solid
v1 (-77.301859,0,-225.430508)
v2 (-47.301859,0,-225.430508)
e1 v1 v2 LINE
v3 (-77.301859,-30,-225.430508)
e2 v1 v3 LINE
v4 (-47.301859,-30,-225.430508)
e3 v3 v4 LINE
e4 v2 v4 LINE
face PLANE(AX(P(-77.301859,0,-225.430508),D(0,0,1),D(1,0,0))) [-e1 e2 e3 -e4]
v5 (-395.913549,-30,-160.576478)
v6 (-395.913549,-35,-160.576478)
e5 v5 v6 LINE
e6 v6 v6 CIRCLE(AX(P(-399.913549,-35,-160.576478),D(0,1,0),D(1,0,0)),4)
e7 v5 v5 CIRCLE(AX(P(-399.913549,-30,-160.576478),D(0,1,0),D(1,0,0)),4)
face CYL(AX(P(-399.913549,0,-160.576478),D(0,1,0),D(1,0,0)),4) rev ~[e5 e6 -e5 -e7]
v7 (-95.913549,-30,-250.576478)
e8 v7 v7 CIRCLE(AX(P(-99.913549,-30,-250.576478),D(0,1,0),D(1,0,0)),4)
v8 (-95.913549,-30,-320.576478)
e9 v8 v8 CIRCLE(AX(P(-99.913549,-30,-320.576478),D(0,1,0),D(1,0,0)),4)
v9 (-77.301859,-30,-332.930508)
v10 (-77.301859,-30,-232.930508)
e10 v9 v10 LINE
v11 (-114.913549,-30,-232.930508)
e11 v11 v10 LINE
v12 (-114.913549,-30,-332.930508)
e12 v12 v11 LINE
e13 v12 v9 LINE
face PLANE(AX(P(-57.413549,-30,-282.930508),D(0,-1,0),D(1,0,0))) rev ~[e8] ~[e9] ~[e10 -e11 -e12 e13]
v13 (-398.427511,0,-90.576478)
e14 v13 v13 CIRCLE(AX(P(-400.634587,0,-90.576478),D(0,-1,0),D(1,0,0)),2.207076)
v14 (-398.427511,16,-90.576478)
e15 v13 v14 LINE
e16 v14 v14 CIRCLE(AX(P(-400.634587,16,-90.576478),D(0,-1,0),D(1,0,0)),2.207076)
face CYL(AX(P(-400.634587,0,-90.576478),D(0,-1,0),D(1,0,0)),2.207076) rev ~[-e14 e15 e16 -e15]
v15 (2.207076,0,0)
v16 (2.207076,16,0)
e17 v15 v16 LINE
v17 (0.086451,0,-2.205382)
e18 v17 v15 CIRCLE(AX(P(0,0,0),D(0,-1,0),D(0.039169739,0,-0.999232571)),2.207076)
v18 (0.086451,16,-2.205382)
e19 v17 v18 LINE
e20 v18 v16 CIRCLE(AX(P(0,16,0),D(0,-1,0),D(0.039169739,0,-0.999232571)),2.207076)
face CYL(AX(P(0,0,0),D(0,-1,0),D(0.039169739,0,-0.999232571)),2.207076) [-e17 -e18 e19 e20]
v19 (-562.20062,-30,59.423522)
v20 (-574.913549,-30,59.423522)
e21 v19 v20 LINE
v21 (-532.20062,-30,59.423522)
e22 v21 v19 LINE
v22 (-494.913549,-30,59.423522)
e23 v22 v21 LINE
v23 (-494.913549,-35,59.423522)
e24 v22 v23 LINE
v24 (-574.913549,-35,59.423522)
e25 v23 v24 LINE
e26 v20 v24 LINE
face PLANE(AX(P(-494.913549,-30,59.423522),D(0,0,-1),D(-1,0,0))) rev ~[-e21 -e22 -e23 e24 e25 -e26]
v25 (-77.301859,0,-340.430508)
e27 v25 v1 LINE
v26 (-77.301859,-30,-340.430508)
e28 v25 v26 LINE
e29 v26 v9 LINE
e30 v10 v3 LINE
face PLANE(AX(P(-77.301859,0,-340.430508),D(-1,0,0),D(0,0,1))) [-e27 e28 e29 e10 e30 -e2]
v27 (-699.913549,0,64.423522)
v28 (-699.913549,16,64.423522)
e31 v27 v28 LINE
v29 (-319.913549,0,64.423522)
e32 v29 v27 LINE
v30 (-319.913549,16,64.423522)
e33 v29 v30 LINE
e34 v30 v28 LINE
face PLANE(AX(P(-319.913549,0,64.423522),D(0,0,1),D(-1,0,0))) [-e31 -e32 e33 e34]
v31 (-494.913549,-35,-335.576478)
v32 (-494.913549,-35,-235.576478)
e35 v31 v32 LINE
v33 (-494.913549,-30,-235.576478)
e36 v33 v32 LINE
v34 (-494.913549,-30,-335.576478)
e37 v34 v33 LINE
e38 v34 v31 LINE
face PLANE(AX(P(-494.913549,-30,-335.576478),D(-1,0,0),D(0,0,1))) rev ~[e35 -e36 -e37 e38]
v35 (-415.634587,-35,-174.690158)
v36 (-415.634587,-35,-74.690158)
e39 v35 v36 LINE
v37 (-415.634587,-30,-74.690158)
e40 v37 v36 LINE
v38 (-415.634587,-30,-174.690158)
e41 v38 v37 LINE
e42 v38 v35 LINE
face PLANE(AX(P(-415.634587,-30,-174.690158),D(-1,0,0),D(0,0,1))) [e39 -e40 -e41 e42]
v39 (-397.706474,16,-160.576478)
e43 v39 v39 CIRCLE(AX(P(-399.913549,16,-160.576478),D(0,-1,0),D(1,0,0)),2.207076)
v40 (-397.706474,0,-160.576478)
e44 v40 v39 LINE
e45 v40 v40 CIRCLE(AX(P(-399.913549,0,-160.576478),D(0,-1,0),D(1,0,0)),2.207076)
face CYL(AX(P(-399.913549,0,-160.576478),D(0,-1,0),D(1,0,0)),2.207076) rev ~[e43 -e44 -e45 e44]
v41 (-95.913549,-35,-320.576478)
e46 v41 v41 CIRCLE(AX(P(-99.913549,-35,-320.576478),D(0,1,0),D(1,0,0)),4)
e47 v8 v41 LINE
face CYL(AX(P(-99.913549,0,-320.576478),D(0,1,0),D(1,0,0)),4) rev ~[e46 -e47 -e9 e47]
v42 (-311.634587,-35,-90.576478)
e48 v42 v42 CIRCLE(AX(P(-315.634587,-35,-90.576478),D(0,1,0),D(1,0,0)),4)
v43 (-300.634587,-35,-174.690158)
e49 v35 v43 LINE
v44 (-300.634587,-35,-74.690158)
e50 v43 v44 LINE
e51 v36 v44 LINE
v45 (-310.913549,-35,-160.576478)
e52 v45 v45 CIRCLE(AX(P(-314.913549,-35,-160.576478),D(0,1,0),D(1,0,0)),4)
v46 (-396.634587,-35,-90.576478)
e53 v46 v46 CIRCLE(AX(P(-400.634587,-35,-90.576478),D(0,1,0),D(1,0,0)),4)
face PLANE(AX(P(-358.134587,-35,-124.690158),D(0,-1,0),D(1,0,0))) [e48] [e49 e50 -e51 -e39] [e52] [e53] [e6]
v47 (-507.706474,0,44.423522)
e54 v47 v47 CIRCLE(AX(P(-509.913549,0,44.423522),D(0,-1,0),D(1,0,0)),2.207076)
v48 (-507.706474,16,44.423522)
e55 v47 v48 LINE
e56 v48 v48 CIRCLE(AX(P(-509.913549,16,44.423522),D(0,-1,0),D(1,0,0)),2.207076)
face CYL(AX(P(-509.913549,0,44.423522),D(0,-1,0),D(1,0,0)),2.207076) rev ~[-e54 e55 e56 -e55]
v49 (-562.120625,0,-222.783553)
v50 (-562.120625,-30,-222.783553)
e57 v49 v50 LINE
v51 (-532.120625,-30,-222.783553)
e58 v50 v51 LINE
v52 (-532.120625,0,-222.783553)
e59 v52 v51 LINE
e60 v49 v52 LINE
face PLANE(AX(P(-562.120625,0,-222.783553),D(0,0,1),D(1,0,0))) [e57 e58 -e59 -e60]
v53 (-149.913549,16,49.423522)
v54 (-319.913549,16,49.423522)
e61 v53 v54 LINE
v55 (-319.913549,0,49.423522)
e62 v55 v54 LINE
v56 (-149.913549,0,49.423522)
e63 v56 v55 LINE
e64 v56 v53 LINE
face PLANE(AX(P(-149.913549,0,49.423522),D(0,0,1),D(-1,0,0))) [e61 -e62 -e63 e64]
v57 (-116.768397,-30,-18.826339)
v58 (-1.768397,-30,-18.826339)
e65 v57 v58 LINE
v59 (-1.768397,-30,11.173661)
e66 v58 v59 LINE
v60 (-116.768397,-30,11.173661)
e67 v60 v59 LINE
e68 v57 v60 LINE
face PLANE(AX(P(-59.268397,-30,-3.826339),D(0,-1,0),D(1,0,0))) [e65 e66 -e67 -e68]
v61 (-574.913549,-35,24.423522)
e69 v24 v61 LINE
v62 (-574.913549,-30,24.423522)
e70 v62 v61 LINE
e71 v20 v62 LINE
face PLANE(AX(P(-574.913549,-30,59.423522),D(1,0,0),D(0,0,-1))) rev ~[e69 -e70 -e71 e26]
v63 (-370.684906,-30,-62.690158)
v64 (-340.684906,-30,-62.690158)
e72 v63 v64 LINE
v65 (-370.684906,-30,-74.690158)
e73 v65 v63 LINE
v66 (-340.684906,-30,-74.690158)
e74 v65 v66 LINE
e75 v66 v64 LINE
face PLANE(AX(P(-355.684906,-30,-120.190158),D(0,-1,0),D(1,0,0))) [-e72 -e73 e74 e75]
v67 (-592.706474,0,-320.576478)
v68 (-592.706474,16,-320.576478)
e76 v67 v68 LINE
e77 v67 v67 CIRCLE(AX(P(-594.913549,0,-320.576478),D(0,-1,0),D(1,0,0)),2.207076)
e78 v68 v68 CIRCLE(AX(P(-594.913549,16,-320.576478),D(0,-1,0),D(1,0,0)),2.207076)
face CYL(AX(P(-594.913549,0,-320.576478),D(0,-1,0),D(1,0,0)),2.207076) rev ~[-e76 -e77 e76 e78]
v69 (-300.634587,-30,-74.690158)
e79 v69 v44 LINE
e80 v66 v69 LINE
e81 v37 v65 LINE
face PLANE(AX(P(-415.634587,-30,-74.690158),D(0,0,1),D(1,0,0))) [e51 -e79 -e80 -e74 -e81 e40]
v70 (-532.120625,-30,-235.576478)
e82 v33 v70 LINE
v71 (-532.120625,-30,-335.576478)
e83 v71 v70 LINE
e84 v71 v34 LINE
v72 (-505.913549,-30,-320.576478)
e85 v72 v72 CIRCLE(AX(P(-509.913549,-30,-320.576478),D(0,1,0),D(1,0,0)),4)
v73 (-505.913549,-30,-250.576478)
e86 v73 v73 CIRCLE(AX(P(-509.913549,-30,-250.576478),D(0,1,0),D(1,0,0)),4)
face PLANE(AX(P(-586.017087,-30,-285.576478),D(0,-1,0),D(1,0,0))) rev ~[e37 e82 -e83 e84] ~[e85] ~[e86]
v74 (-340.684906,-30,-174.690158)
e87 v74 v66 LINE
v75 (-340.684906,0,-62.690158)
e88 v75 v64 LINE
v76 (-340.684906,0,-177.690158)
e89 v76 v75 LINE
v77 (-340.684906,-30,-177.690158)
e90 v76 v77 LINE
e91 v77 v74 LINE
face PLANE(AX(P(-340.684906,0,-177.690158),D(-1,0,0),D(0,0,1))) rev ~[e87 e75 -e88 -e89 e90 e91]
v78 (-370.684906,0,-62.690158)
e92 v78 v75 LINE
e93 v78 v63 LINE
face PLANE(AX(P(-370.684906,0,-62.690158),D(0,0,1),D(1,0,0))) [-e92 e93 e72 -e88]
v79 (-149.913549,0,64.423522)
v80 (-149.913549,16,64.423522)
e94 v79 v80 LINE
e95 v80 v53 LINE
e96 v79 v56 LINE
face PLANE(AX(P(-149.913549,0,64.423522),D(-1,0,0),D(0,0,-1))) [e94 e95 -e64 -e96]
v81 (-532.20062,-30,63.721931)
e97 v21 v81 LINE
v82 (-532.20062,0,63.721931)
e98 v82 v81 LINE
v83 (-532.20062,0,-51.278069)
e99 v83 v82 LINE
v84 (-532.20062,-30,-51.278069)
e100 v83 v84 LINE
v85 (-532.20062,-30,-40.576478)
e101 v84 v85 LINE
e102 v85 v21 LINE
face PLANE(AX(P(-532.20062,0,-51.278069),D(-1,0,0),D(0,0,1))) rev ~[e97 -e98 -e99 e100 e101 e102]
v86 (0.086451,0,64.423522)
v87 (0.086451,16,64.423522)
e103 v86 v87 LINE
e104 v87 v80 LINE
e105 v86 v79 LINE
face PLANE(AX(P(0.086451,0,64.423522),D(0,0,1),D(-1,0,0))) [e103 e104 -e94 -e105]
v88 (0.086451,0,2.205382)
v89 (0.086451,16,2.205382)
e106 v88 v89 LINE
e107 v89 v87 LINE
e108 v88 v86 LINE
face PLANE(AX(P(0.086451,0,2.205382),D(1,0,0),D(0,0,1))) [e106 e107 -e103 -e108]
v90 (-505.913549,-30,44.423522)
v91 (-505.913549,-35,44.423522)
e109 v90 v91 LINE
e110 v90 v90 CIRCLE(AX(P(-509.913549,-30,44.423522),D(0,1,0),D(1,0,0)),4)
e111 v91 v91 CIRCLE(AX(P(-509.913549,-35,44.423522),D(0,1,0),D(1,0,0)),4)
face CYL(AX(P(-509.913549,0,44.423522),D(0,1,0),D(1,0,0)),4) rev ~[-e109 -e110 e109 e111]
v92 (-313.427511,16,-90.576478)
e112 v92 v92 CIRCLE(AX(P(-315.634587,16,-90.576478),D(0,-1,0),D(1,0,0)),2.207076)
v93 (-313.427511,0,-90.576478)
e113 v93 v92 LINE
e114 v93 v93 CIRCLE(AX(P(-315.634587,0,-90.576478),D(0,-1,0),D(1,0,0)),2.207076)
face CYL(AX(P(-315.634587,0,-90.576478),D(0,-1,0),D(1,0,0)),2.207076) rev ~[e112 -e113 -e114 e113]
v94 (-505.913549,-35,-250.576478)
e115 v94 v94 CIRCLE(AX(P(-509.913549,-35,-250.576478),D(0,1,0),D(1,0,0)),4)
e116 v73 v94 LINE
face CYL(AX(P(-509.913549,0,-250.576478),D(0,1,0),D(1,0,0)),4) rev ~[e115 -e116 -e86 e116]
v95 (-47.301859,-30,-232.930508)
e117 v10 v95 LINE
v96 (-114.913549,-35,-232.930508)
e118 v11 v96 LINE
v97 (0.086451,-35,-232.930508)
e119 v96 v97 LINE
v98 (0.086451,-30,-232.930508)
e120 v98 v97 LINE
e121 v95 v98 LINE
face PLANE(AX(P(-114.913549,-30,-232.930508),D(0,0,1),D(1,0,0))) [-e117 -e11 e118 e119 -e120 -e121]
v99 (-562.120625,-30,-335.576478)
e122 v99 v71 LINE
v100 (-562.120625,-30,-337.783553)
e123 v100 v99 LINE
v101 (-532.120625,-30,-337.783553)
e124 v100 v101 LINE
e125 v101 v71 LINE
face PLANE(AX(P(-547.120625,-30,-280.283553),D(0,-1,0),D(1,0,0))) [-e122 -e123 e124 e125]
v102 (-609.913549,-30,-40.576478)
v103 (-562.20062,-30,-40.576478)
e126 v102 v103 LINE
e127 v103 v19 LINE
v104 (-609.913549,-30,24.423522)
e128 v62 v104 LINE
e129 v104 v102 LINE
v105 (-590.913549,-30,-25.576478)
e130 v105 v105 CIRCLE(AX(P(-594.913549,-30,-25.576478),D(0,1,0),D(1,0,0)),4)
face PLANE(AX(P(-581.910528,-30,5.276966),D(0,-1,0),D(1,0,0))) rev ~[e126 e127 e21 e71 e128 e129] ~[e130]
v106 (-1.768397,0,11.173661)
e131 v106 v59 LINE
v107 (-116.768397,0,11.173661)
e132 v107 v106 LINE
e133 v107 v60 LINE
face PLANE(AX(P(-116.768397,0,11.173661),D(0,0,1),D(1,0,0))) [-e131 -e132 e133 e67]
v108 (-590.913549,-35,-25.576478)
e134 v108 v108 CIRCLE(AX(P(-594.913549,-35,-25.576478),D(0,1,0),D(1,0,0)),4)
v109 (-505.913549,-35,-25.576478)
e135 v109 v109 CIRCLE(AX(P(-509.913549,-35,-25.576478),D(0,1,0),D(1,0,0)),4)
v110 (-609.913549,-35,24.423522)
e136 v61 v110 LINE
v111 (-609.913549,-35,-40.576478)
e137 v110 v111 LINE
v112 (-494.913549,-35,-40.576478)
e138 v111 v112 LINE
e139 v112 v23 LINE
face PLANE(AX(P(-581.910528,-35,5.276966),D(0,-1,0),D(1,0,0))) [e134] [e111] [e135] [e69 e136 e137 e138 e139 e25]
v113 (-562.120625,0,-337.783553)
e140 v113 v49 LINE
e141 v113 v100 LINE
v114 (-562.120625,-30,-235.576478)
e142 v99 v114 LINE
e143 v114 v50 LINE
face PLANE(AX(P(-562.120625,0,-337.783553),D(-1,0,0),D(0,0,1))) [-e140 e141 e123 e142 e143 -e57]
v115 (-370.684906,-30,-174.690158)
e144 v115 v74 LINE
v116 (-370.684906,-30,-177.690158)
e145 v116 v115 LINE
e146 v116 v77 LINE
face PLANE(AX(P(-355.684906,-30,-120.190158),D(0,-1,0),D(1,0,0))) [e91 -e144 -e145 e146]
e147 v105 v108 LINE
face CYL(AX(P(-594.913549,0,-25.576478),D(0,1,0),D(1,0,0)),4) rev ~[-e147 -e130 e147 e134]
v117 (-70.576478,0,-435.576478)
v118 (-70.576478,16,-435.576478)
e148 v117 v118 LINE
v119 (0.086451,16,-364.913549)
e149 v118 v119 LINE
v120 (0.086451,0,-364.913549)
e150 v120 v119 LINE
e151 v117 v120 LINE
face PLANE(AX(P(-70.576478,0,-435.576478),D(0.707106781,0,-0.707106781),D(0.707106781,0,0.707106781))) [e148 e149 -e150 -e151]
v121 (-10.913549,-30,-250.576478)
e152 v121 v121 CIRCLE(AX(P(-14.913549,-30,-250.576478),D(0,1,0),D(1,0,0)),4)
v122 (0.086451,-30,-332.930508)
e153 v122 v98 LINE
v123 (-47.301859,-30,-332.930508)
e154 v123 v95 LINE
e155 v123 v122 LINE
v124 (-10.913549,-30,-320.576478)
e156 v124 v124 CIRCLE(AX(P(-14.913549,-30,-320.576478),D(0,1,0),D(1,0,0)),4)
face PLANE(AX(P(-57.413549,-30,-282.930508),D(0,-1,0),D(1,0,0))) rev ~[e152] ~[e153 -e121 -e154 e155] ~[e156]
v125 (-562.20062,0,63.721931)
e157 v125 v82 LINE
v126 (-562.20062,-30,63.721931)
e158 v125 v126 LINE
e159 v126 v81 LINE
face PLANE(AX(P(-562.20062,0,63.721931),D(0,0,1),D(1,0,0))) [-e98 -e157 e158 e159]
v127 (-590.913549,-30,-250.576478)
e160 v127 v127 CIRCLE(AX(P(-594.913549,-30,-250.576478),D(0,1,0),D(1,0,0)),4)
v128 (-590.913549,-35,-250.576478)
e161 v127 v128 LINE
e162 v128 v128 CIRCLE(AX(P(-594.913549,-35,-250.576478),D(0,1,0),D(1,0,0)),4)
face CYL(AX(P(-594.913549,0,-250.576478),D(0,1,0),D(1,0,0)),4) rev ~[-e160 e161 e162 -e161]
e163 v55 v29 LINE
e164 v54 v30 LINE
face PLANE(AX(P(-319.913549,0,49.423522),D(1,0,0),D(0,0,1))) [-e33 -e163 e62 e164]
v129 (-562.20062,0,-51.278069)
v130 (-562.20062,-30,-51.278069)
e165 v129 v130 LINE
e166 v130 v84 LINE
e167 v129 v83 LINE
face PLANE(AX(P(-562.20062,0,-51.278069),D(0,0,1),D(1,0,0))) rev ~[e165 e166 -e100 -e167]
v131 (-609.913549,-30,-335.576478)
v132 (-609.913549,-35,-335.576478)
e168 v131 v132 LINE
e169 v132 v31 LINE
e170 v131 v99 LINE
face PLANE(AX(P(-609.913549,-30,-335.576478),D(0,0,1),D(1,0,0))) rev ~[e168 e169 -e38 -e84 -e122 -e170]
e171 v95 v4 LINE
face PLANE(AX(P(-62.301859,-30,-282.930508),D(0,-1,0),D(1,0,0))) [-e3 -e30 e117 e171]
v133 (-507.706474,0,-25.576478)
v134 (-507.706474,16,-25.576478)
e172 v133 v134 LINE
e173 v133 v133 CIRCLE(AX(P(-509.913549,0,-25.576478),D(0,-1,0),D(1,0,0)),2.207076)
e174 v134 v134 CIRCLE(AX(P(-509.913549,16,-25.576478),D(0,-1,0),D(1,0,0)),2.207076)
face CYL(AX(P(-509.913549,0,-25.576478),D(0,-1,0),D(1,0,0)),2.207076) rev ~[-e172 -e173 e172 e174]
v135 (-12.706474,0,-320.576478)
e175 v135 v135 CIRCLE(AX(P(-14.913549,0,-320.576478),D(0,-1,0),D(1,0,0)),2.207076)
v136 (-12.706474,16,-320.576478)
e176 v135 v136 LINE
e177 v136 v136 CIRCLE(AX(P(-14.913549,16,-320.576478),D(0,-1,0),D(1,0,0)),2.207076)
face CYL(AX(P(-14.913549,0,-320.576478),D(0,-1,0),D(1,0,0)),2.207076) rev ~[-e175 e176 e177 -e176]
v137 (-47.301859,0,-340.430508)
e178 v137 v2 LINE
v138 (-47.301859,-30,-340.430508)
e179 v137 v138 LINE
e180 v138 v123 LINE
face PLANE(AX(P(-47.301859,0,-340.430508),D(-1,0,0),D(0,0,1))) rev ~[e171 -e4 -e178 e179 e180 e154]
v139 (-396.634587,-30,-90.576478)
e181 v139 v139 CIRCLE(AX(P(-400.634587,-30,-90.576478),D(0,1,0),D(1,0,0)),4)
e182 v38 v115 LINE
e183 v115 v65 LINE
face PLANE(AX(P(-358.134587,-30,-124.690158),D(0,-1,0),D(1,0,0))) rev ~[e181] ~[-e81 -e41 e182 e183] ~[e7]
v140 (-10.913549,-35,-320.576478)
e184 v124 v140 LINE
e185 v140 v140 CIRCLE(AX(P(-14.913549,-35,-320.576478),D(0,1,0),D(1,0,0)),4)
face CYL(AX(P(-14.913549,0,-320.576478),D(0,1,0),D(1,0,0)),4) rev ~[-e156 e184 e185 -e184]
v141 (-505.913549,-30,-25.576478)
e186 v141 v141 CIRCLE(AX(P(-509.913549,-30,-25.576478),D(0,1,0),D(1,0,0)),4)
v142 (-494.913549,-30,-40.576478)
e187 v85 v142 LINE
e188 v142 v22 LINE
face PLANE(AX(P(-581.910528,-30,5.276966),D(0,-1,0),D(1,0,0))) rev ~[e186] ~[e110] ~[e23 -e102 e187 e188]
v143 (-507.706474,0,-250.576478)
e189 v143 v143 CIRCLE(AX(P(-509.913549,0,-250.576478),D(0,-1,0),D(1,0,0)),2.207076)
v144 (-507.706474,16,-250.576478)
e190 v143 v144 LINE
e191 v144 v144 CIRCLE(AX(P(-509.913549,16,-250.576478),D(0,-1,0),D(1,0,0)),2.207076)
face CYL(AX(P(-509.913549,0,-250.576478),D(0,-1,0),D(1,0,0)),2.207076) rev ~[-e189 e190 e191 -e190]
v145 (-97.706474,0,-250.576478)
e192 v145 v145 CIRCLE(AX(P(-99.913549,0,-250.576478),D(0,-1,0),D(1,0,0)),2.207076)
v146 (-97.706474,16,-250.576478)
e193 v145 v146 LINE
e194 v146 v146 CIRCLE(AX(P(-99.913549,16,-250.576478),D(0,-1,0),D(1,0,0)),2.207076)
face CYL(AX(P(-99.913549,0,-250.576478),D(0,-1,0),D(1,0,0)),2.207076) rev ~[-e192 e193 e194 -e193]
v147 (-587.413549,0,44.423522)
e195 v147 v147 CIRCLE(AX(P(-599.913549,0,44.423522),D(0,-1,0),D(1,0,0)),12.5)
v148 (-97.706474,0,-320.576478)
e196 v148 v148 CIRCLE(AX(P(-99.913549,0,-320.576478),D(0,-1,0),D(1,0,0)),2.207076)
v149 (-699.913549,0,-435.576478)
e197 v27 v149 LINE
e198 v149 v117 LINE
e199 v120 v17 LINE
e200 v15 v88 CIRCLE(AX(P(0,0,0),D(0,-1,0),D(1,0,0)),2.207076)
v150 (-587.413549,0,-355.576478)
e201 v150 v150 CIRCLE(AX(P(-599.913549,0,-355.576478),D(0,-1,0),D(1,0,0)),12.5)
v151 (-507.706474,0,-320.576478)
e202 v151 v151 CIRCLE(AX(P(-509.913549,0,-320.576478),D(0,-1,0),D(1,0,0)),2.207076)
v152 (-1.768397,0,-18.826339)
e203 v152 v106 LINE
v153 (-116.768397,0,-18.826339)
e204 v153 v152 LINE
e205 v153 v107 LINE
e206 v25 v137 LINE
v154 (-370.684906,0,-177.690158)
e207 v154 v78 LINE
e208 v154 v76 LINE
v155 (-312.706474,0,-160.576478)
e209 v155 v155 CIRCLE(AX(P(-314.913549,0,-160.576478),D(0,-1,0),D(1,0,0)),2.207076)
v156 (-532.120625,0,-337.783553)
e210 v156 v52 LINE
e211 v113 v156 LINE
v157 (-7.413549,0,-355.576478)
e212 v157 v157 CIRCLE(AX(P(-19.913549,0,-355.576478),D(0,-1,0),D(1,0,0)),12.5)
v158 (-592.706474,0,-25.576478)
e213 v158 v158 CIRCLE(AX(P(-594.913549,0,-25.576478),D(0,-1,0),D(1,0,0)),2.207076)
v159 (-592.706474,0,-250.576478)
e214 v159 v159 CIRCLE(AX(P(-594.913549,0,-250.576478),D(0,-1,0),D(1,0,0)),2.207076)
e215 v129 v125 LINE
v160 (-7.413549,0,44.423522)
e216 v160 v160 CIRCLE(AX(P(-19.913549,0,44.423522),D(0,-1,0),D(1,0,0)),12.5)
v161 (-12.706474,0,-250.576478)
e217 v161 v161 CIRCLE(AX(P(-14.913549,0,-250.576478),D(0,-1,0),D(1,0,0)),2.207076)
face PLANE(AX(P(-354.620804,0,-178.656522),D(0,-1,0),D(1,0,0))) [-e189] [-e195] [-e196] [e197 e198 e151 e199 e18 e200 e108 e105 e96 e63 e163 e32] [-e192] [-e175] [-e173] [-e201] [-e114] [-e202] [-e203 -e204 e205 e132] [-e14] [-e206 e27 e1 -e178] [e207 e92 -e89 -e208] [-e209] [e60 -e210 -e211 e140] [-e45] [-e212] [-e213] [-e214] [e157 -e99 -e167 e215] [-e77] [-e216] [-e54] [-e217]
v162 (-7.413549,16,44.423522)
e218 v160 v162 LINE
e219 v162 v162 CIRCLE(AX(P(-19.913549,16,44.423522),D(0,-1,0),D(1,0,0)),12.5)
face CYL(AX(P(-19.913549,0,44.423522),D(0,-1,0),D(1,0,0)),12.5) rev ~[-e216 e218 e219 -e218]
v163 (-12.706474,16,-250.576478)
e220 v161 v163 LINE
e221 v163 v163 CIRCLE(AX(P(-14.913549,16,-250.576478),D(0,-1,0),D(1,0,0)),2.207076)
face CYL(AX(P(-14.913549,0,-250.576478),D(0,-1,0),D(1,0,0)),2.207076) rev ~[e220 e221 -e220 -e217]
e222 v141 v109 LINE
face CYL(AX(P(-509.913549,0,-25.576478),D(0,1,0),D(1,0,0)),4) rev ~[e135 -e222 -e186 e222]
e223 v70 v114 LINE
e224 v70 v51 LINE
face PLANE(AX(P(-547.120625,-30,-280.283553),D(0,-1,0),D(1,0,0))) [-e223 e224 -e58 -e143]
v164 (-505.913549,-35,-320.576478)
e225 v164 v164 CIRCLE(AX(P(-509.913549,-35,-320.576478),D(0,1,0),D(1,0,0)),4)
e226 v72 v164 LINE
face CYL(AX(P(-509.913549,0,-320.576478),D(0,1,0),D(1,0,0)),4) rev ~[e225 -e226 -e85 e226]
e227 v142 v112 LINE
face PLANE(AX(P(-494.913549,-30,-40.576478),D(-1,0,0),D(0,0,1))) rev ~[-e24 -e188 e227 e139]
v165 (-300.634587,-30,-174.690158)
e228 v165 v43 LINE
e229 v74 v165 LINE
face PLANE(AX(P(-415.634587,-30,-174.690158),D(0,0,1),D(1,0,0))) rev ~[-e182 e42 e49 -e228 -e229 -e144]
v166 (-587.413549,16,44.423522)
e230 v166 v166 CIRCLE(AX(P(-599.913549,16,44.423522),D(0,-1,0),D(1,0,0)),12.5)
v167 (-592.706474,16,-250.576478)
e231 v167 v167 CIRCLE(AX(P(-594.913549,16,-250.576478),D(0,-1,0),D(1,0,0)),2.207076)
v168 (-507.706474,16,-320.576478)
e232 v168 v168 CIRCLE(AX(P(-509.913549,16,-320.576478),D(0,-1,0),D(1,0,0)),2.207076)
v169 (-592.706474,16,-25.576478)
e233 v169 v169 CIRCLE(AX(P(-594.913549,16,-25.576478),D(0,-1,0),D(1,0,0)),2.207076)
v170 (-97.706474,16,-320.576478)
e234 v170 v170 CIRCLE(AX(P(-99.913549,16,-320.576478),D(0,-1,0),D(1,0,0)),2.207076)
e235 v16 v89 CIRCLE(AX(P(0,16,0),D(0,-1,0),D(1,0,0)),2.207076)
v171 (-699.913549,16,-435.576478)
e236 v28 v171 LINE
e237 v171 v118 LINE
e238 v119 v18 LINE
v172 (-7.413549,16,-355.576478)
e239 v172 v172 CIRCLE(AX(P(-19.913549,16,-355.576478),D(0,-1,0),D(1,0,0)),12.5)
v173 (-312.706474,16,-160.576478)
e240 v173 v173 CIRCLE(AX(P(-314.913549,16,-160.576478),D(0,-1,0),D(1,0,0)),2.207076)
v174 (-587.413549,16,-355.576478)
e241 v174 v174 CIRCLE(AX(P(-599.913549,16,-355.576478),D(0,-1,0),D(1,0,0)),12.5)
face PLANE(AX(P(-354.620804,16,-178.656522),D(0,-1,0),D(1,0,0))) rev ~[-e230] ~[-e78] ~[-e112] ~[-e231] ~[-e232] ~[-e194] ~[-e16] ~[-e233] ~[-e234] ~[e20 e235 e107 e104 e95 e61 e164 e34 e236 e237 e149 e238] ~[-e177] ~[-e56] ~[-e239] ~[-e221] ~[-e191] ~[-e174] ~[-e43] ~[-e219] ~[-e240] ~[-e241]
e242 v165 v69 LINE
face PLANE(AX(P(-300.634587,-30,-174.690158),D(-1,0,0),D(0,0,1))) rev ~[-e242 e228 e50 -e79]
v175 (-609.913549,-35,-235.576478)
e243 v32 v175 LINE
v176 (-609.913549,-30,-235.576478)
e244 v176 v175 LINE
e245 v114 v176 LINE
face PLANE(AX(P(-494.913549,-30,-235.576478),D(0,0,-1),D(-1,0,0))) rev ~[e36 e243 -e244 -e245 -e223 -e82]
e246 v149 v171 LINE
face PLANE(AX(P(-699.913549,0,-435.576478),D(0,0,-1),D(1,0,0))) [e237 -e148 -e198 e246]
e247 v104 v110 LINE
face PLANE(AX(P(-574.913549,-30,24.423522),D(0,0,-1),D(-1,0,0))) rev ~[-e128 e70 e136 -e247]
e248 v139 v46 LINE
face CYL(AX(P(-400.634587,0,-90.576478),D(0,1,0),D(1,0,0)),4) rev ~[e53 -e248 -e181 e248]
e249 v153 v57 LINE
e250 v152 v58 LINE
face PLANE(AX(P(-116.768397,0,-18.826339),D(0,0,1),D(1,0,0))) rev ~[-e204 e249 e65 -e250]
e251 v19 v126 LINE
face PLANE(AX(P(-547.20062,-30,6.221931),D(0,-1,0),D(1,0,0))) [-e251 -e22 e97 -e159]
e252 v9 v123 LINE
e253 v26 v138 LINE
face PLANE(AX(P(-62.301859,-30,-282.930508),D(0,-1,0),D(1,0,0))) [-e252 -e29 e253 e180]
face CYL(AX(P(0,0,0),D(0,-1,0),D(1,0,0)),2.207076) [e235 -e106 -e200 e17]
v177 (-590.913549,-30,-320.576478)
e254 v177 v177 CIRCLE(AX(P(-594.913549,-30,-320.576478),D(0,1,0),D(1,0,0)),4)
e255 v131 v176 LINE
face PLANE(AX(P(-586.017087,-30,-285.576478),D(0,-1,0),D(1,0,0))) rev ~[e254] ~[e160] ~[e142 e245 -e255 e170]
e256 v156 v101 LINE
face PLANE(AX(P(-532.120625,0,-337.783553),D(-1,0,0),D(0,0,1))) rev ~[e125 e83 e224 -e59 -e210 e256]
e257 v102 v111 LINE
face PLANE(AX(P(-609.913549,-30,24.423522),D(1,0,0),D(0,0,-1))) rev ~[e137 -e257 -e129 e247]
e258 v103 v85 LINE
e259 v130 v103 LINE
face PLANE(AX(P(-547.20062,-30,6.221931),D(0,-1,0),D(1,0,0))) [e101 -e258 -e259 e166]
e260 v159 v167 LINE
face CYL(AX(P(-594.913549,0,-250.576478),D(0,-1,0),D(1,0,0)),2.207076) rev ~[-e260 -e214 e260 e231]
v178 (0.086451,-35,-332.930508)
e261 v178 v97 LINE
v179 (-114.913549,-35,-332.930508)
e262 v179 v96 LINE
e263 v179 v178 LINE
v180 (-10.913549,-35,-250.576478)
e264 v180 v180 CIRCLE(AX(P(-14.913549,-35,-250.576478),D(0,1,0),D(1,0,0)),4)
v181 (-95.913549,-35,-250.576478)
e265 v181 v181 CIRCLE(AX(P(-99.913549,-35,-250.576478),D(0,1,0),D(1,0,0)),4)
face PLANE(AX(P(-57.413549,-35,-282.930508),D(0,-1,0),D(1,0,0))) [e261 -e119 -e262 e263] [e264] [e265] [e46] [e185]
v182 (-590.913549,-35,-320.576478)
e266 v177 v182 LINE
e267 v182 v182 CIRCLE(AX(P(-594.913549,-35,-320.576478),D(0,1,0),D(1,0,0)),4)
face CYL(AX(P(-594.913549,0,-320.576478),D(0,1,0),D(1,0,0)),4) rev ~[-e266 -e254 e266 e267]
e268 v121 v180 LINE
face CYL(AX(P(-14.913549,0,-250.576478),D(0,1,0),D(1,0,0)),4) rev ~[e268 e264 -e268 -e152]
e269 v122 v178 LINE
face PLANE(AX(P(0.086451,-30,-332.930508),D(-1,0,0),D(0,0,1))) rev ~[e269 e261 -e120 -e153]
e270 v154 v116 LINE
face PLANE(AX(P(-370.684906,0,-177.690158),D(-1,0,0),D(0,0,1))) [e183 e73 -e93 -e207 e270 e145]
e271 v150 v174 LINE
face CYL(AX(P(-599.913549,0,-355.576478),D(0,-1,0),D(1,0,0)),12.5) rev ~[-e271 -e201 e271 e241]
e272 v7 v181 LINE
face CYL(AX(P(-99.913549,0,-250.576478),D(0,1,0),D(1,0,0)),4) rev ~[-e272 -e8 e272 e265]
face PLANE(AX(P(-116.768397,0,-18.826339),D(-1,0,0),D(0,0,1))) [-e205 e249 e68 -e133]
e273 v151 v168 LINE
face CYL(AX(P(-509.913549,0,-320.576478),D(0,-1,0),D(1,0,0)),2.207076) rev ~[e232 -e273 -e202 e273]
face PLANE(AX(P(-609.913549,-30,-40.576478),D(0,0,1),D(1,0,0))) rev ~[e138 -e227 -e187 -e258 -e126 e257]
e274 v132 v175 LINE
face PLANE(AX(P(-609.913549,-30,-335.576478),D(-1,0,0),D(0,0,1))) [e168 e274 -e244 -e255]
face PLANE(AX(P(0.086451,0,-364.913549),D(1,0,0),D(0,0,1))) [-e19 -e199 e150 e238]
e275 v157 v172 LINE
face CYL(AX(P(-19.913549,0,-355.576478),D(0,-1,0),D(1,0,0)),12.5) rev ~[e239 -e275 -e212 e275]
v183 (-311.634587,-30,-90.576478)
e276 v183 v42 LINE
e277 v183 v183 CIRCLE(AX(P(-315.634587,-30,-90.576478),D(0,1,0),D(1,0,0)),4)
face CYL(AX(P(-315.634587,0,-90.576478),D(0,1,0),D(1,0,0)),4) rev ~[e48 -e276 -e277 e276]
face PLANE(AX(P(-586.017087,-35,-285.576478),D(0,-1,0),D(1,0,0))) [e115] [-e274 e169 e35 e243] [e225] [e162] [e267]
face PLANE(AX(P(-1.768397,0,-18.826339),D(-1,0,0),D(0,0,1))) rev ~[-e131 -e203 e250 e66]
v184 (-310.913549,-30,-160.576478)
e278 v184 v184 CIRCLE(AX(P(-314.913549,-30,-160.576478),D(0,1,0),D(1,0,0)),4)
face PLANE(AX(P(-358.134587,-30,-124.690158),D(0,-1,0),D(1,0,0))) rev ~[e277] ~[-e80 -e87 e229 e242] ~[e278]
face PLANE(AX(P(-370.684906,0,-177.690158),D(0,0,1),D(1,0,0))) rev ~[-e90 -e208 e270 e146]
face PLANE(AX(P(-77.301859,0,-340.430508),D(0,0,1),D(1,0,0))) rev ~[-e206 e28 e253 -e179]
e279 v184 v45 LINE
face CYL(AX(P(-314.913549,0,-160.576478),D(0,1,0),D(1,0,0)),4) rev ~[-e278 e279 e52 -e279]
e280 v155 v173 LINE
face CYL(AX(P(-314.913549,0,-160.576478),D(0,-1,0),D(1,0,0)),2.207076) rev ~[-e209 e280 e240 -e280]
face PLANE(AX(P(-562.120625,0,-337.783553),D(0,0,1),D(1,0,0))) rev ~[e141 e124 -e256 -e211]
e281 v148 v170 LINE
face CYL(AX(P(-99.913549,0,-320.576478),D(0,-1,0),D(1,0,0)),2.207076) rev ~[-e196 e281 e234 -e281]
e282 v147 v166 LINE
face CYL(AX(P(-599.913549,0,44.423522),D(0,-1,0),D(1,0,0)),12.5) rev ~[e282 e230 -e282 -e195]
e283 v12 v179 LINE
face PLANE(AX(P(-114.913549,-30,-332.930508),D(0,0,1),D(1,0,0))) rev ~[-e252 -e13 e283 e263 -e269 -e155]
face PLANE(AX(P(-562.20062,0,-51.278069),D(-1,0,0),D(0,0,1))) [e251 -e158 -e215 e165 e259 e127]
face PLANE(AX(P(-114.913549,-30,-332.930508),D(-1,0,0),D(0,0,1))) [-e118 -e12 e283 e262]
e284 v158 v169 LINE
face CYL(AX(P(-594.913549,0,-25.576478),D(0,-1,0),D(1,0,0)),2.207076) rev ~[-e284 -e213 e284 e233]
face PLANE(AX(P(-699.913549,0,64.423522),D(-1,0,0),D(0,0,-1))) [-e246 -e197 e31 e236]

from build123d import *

# Parameters (mm, degrees)
F0_R      = 12.5
F0_R_2    = 2.2070756532
F1_DEPTH  = 16
F2_W      = 30
F2_H      = 115
F2_W_2    = 115
F2_H_2    = 30
F3_DEPTH  = 30
F5_W      = 47.7929243468
F5_H      = 100
F5_W_2    = 30
F5_W_3    = 37.2070756532
F6_DEPTH  = 5
F7_W      = 115
F7_H      = 100
F8_DEPTH  = 5
F10_W     = 115
F10_H     = 100
F11_DEPTH = 5
F9_W      = 30
F9_H      = 100
F9_W_2    = 37.2870707512
F13_DEPTH = 5
F14_D     = 8
F14_DEPTH = 35.001


with BuildPart() as f1:
    # F0 (on Front) → F1 (new body)
    with BuildSketch(Plane.XZ):
        with BuildLine():
            Line((-699.9135494232, 64.4235223532), (-699.9135494232, -435.5764776468))
            Line((-699.9135494232, -435.5764776468), (-70.5764776468, -435.5764776468))
            Line((-70.5764776468, -435.5764776468), (0.0864505768, -364.9135494232))
            Line((0.0864505768, -364.9135494232), (0.0864505768, -2.20538188))
            ThreePointArc((0.0864505768, -2.20538188), (-2.2070756532, 0), (0.0864505768, 2.20538188))
            Line((0.0864505768, 2.20538188), (0.0864505768, 64.4235223532))
            Line((0.0864505768, 64.4235223532), (-149.9135494232, 64.4235223532))
            Line((-149.9135494232, 64.4235223532), (-149.9135494232, 49.4235223532))
            Line((-149.9135494232, 49.4235223532), (-319.9135494232, 49.4235223532))
            Line((-319.9135494232, 49.4235223532), (-319.9135494232, 64.4235223532))
            Line((-319.9135494232, 64.4235223532), (-699.9135494232, 64.4235223532))
        make_face()
        with Locations((-599.9135494232, -355.5764776468)):
            Circle(F0_R, mode=Mode.SUBTRACT)
        with Locations((-594.9135494232, -320.5764776468)):
            Circle(F0_R_2, mode=Mode.SUBTRACT)
        with Locations((-509.9135494232, -320.5764776468)):
            Circle(F0_R_2, mode=Mode.SUBTRACT)
        with Locations((-594.9135494232, -250.5764776468)):
            Circle(F0_R_2, mode=Mode.SUBTRACT)
        with Locations((-509.9135494232, -250.5764776468)):
            Circle(F0_R_2, mode=Mode.SUBTRACT)
        with Locations((-99.9135494232, -320.5764776468)):
            Circle(F0_R_2, mode=Mode.SUBTRACT)
        with Locations((-19.9135494232, -355.5764776468)):
            Circle(F0_R, mode=Mode.SUBTRACT)
        with Locations((-14.9135494232, -320.5764776468)):
            Circle(F0_R_2, mode=Mode.SUBTRACT)
        with Locations((-99.9135494232, -250.5764776468)):
            Circle(F0_R_2, mode=Mode.SUBTRACT)
        with Locations((-14.9135494232, -250.5764776468)):
            Circle(F0_R_2, mode=Mode.SUBTRACT)
        with Locations((-399.9135494232, -160.5764776468)):
            Circle(F0_R_2, mode=Mode.SUBTRACT)
        with Locations((-400.6345868111, -90.5764776468)):
            Circle(F0_R_2, mode=Mode.SUBTRACT)
        with Locations((-594.9135494232, -25.5764776468)):
            Circle(F0_R_2, mode=Mode.SUBTRACT)
        with Locations((-599.9135494232, 44.4235223532)):
            Circle(F0_R, mode=Mode.SUBTRACT)
        with Locations((-509.9135494232, -25.5764776468)):
            Circle(F0_R_2, mode=Mode.SUBTRACT)
        with Locations((-509.9135494232, 44.4235223532)):
            Circle(F0_R_2, mode=Mode.SUBTRACT)
        with Locations((-314.9135494232, -160.5764776468)):
            Circle(F0_R_2, mode=Mode.SUBTRACT)
        with Locations((-315.6345868111, -90.5764776468)):
            Circle(F0_R_2, mode=Mode.SUBTRACT)
        with Locations((-19.9135494232, 44.4235223532)):
            Circle(F0_R, mode=Mode.SUBTRACT)
        with BuildLine():
            ThreePointArc((0.0864505768, 2.20538188), (-2.2070756532, 0), (0.0864505768, -2.20538188))
            Line((0.0864505768, -2.20538188), (0.0864505768, 2.20538188))
        make_face()
        with BuildLine():
            Line((0.0864505768, 2.20538188), (0.0864505768, -2.20538188))
            ThreePointArc((0.0864505768, -2.20538188), (1.5909094729, -1.5297679523), (2.2070756532, 0))
            ThreePointArc((2.2070756532, 0), (1.5909094729, 1.5297679523), (0.0864505768, 2.20538188))
        make_face()
    extrude(amount=-F1_DEPTH)

    # F2 (on Front) → F3 (join)
    with BuildSketch(Plane.XZ):
        with Locations((-547.1206250764, -280.2835533)):
            Rectangle(F2_W, F2_H)
        with Locations((-355.6849062443, -120.1901584864)):
            Rectangle(F2_W, F2_H)
        with Locations((-547.2006201744, 6.2219314277)):
            Rectangle(F2_W, F2_H)
        with Locations((-62.3018592596, -282.930508256)):
            Rectangle(F2_W, F2_H)
        with Locations((-59.2683969438, -3.8263390213)):
            Rectangle(F2_W_2, F2_H_2)
    extrude(amount=F3_DEPTH)

    # F5 (on face) → F6 (join)
    with BuildSketch(Plane.XZ.offset(30)):
        with Locations((-586.0170872498, -285.5764776468)):
            Rectangle(F5_W, F5_H)
        with Locations((-547.1206250764, -285.5764776468)):
            Rectangle(F5_W_2, F5_H)
        with Locations((-513.5170872498, -285.5764776468)):
            Rectangle(F5_W_3, F5_H)
    extrude(amount=F6_DEPTH)

    # F7 (on face) → F8 (join)
    with BuildSketch(Plane.XZ.offset(30)):
        with Locations((-57.4135494232, -282.930508256)):
            Rectangle(F7_W, F7_H)
    extrude(amount=F8_DEPTH)

    # F10 (on face) → F11 (join)
    with BuildSketch(Plane.XZ.offset(30)):
        with Locations((-358.1345868111, -124.6901584864)):
            Rectangle(F10_W, F10_H)
    extrude(amount=F11_DEPTH)

    # F9 (on face) → F13 (join)
    with BuildSketch(Plane.XZ.offset(30)):
        Polygon((-562.2006201744, -40.5764776468), (-562.2006201744, 59.4235223532), (-574.9135494232, 59.4235223532), (-574.9135494232, 24.4235223532), (-609.9135494232, 24.4235223532), (-609.9135494232, -40.5764776468), align=None)
        with Locations((-547.2006201744, 9.4235223532)):
            Rectangle(F9_W, F9_H)
        with Locations((-513.5570847988, 9.4235223532)):
            Rectangle(F9_W_2, F9_H)
    extrude(amount=F13_DEPTH)

    # F14 (through all, one way)
    with BuildSketch(Plane(origin=(0, 0, 0), x_dir=(1, 0, 0), z_dir=(0, 1, 0))):
        with Locations((-594.9135494232, 250.5764776468), (-594.9135494232, 320.5764776468), (-509.9135494232, 320.5764776468), (-509.9135494232, 250.5764776468), (-400.6345868111, 90.5764776468), (-315.6345868111, 90.5764776468), (-399.9135494232, 160.5764776468), (-314.9135494232, 160.5764776468), (-594.9135494232, 25.5764776468), (-509.9135494232, 25.5764776468), (-509.9135494232, -44.4235223532), (-99.9135494232, 320.5764776468), (-99.9135494232, 250.5764776468), (-14.9135494232, 320.5764776468), (-14.9135494232, 250.5764776468)):
            Circle(F14_D / 2)
    extrude(amount=-F14_DEPTH, mode=Mode.SUBTRACT)


solid = f1.part
